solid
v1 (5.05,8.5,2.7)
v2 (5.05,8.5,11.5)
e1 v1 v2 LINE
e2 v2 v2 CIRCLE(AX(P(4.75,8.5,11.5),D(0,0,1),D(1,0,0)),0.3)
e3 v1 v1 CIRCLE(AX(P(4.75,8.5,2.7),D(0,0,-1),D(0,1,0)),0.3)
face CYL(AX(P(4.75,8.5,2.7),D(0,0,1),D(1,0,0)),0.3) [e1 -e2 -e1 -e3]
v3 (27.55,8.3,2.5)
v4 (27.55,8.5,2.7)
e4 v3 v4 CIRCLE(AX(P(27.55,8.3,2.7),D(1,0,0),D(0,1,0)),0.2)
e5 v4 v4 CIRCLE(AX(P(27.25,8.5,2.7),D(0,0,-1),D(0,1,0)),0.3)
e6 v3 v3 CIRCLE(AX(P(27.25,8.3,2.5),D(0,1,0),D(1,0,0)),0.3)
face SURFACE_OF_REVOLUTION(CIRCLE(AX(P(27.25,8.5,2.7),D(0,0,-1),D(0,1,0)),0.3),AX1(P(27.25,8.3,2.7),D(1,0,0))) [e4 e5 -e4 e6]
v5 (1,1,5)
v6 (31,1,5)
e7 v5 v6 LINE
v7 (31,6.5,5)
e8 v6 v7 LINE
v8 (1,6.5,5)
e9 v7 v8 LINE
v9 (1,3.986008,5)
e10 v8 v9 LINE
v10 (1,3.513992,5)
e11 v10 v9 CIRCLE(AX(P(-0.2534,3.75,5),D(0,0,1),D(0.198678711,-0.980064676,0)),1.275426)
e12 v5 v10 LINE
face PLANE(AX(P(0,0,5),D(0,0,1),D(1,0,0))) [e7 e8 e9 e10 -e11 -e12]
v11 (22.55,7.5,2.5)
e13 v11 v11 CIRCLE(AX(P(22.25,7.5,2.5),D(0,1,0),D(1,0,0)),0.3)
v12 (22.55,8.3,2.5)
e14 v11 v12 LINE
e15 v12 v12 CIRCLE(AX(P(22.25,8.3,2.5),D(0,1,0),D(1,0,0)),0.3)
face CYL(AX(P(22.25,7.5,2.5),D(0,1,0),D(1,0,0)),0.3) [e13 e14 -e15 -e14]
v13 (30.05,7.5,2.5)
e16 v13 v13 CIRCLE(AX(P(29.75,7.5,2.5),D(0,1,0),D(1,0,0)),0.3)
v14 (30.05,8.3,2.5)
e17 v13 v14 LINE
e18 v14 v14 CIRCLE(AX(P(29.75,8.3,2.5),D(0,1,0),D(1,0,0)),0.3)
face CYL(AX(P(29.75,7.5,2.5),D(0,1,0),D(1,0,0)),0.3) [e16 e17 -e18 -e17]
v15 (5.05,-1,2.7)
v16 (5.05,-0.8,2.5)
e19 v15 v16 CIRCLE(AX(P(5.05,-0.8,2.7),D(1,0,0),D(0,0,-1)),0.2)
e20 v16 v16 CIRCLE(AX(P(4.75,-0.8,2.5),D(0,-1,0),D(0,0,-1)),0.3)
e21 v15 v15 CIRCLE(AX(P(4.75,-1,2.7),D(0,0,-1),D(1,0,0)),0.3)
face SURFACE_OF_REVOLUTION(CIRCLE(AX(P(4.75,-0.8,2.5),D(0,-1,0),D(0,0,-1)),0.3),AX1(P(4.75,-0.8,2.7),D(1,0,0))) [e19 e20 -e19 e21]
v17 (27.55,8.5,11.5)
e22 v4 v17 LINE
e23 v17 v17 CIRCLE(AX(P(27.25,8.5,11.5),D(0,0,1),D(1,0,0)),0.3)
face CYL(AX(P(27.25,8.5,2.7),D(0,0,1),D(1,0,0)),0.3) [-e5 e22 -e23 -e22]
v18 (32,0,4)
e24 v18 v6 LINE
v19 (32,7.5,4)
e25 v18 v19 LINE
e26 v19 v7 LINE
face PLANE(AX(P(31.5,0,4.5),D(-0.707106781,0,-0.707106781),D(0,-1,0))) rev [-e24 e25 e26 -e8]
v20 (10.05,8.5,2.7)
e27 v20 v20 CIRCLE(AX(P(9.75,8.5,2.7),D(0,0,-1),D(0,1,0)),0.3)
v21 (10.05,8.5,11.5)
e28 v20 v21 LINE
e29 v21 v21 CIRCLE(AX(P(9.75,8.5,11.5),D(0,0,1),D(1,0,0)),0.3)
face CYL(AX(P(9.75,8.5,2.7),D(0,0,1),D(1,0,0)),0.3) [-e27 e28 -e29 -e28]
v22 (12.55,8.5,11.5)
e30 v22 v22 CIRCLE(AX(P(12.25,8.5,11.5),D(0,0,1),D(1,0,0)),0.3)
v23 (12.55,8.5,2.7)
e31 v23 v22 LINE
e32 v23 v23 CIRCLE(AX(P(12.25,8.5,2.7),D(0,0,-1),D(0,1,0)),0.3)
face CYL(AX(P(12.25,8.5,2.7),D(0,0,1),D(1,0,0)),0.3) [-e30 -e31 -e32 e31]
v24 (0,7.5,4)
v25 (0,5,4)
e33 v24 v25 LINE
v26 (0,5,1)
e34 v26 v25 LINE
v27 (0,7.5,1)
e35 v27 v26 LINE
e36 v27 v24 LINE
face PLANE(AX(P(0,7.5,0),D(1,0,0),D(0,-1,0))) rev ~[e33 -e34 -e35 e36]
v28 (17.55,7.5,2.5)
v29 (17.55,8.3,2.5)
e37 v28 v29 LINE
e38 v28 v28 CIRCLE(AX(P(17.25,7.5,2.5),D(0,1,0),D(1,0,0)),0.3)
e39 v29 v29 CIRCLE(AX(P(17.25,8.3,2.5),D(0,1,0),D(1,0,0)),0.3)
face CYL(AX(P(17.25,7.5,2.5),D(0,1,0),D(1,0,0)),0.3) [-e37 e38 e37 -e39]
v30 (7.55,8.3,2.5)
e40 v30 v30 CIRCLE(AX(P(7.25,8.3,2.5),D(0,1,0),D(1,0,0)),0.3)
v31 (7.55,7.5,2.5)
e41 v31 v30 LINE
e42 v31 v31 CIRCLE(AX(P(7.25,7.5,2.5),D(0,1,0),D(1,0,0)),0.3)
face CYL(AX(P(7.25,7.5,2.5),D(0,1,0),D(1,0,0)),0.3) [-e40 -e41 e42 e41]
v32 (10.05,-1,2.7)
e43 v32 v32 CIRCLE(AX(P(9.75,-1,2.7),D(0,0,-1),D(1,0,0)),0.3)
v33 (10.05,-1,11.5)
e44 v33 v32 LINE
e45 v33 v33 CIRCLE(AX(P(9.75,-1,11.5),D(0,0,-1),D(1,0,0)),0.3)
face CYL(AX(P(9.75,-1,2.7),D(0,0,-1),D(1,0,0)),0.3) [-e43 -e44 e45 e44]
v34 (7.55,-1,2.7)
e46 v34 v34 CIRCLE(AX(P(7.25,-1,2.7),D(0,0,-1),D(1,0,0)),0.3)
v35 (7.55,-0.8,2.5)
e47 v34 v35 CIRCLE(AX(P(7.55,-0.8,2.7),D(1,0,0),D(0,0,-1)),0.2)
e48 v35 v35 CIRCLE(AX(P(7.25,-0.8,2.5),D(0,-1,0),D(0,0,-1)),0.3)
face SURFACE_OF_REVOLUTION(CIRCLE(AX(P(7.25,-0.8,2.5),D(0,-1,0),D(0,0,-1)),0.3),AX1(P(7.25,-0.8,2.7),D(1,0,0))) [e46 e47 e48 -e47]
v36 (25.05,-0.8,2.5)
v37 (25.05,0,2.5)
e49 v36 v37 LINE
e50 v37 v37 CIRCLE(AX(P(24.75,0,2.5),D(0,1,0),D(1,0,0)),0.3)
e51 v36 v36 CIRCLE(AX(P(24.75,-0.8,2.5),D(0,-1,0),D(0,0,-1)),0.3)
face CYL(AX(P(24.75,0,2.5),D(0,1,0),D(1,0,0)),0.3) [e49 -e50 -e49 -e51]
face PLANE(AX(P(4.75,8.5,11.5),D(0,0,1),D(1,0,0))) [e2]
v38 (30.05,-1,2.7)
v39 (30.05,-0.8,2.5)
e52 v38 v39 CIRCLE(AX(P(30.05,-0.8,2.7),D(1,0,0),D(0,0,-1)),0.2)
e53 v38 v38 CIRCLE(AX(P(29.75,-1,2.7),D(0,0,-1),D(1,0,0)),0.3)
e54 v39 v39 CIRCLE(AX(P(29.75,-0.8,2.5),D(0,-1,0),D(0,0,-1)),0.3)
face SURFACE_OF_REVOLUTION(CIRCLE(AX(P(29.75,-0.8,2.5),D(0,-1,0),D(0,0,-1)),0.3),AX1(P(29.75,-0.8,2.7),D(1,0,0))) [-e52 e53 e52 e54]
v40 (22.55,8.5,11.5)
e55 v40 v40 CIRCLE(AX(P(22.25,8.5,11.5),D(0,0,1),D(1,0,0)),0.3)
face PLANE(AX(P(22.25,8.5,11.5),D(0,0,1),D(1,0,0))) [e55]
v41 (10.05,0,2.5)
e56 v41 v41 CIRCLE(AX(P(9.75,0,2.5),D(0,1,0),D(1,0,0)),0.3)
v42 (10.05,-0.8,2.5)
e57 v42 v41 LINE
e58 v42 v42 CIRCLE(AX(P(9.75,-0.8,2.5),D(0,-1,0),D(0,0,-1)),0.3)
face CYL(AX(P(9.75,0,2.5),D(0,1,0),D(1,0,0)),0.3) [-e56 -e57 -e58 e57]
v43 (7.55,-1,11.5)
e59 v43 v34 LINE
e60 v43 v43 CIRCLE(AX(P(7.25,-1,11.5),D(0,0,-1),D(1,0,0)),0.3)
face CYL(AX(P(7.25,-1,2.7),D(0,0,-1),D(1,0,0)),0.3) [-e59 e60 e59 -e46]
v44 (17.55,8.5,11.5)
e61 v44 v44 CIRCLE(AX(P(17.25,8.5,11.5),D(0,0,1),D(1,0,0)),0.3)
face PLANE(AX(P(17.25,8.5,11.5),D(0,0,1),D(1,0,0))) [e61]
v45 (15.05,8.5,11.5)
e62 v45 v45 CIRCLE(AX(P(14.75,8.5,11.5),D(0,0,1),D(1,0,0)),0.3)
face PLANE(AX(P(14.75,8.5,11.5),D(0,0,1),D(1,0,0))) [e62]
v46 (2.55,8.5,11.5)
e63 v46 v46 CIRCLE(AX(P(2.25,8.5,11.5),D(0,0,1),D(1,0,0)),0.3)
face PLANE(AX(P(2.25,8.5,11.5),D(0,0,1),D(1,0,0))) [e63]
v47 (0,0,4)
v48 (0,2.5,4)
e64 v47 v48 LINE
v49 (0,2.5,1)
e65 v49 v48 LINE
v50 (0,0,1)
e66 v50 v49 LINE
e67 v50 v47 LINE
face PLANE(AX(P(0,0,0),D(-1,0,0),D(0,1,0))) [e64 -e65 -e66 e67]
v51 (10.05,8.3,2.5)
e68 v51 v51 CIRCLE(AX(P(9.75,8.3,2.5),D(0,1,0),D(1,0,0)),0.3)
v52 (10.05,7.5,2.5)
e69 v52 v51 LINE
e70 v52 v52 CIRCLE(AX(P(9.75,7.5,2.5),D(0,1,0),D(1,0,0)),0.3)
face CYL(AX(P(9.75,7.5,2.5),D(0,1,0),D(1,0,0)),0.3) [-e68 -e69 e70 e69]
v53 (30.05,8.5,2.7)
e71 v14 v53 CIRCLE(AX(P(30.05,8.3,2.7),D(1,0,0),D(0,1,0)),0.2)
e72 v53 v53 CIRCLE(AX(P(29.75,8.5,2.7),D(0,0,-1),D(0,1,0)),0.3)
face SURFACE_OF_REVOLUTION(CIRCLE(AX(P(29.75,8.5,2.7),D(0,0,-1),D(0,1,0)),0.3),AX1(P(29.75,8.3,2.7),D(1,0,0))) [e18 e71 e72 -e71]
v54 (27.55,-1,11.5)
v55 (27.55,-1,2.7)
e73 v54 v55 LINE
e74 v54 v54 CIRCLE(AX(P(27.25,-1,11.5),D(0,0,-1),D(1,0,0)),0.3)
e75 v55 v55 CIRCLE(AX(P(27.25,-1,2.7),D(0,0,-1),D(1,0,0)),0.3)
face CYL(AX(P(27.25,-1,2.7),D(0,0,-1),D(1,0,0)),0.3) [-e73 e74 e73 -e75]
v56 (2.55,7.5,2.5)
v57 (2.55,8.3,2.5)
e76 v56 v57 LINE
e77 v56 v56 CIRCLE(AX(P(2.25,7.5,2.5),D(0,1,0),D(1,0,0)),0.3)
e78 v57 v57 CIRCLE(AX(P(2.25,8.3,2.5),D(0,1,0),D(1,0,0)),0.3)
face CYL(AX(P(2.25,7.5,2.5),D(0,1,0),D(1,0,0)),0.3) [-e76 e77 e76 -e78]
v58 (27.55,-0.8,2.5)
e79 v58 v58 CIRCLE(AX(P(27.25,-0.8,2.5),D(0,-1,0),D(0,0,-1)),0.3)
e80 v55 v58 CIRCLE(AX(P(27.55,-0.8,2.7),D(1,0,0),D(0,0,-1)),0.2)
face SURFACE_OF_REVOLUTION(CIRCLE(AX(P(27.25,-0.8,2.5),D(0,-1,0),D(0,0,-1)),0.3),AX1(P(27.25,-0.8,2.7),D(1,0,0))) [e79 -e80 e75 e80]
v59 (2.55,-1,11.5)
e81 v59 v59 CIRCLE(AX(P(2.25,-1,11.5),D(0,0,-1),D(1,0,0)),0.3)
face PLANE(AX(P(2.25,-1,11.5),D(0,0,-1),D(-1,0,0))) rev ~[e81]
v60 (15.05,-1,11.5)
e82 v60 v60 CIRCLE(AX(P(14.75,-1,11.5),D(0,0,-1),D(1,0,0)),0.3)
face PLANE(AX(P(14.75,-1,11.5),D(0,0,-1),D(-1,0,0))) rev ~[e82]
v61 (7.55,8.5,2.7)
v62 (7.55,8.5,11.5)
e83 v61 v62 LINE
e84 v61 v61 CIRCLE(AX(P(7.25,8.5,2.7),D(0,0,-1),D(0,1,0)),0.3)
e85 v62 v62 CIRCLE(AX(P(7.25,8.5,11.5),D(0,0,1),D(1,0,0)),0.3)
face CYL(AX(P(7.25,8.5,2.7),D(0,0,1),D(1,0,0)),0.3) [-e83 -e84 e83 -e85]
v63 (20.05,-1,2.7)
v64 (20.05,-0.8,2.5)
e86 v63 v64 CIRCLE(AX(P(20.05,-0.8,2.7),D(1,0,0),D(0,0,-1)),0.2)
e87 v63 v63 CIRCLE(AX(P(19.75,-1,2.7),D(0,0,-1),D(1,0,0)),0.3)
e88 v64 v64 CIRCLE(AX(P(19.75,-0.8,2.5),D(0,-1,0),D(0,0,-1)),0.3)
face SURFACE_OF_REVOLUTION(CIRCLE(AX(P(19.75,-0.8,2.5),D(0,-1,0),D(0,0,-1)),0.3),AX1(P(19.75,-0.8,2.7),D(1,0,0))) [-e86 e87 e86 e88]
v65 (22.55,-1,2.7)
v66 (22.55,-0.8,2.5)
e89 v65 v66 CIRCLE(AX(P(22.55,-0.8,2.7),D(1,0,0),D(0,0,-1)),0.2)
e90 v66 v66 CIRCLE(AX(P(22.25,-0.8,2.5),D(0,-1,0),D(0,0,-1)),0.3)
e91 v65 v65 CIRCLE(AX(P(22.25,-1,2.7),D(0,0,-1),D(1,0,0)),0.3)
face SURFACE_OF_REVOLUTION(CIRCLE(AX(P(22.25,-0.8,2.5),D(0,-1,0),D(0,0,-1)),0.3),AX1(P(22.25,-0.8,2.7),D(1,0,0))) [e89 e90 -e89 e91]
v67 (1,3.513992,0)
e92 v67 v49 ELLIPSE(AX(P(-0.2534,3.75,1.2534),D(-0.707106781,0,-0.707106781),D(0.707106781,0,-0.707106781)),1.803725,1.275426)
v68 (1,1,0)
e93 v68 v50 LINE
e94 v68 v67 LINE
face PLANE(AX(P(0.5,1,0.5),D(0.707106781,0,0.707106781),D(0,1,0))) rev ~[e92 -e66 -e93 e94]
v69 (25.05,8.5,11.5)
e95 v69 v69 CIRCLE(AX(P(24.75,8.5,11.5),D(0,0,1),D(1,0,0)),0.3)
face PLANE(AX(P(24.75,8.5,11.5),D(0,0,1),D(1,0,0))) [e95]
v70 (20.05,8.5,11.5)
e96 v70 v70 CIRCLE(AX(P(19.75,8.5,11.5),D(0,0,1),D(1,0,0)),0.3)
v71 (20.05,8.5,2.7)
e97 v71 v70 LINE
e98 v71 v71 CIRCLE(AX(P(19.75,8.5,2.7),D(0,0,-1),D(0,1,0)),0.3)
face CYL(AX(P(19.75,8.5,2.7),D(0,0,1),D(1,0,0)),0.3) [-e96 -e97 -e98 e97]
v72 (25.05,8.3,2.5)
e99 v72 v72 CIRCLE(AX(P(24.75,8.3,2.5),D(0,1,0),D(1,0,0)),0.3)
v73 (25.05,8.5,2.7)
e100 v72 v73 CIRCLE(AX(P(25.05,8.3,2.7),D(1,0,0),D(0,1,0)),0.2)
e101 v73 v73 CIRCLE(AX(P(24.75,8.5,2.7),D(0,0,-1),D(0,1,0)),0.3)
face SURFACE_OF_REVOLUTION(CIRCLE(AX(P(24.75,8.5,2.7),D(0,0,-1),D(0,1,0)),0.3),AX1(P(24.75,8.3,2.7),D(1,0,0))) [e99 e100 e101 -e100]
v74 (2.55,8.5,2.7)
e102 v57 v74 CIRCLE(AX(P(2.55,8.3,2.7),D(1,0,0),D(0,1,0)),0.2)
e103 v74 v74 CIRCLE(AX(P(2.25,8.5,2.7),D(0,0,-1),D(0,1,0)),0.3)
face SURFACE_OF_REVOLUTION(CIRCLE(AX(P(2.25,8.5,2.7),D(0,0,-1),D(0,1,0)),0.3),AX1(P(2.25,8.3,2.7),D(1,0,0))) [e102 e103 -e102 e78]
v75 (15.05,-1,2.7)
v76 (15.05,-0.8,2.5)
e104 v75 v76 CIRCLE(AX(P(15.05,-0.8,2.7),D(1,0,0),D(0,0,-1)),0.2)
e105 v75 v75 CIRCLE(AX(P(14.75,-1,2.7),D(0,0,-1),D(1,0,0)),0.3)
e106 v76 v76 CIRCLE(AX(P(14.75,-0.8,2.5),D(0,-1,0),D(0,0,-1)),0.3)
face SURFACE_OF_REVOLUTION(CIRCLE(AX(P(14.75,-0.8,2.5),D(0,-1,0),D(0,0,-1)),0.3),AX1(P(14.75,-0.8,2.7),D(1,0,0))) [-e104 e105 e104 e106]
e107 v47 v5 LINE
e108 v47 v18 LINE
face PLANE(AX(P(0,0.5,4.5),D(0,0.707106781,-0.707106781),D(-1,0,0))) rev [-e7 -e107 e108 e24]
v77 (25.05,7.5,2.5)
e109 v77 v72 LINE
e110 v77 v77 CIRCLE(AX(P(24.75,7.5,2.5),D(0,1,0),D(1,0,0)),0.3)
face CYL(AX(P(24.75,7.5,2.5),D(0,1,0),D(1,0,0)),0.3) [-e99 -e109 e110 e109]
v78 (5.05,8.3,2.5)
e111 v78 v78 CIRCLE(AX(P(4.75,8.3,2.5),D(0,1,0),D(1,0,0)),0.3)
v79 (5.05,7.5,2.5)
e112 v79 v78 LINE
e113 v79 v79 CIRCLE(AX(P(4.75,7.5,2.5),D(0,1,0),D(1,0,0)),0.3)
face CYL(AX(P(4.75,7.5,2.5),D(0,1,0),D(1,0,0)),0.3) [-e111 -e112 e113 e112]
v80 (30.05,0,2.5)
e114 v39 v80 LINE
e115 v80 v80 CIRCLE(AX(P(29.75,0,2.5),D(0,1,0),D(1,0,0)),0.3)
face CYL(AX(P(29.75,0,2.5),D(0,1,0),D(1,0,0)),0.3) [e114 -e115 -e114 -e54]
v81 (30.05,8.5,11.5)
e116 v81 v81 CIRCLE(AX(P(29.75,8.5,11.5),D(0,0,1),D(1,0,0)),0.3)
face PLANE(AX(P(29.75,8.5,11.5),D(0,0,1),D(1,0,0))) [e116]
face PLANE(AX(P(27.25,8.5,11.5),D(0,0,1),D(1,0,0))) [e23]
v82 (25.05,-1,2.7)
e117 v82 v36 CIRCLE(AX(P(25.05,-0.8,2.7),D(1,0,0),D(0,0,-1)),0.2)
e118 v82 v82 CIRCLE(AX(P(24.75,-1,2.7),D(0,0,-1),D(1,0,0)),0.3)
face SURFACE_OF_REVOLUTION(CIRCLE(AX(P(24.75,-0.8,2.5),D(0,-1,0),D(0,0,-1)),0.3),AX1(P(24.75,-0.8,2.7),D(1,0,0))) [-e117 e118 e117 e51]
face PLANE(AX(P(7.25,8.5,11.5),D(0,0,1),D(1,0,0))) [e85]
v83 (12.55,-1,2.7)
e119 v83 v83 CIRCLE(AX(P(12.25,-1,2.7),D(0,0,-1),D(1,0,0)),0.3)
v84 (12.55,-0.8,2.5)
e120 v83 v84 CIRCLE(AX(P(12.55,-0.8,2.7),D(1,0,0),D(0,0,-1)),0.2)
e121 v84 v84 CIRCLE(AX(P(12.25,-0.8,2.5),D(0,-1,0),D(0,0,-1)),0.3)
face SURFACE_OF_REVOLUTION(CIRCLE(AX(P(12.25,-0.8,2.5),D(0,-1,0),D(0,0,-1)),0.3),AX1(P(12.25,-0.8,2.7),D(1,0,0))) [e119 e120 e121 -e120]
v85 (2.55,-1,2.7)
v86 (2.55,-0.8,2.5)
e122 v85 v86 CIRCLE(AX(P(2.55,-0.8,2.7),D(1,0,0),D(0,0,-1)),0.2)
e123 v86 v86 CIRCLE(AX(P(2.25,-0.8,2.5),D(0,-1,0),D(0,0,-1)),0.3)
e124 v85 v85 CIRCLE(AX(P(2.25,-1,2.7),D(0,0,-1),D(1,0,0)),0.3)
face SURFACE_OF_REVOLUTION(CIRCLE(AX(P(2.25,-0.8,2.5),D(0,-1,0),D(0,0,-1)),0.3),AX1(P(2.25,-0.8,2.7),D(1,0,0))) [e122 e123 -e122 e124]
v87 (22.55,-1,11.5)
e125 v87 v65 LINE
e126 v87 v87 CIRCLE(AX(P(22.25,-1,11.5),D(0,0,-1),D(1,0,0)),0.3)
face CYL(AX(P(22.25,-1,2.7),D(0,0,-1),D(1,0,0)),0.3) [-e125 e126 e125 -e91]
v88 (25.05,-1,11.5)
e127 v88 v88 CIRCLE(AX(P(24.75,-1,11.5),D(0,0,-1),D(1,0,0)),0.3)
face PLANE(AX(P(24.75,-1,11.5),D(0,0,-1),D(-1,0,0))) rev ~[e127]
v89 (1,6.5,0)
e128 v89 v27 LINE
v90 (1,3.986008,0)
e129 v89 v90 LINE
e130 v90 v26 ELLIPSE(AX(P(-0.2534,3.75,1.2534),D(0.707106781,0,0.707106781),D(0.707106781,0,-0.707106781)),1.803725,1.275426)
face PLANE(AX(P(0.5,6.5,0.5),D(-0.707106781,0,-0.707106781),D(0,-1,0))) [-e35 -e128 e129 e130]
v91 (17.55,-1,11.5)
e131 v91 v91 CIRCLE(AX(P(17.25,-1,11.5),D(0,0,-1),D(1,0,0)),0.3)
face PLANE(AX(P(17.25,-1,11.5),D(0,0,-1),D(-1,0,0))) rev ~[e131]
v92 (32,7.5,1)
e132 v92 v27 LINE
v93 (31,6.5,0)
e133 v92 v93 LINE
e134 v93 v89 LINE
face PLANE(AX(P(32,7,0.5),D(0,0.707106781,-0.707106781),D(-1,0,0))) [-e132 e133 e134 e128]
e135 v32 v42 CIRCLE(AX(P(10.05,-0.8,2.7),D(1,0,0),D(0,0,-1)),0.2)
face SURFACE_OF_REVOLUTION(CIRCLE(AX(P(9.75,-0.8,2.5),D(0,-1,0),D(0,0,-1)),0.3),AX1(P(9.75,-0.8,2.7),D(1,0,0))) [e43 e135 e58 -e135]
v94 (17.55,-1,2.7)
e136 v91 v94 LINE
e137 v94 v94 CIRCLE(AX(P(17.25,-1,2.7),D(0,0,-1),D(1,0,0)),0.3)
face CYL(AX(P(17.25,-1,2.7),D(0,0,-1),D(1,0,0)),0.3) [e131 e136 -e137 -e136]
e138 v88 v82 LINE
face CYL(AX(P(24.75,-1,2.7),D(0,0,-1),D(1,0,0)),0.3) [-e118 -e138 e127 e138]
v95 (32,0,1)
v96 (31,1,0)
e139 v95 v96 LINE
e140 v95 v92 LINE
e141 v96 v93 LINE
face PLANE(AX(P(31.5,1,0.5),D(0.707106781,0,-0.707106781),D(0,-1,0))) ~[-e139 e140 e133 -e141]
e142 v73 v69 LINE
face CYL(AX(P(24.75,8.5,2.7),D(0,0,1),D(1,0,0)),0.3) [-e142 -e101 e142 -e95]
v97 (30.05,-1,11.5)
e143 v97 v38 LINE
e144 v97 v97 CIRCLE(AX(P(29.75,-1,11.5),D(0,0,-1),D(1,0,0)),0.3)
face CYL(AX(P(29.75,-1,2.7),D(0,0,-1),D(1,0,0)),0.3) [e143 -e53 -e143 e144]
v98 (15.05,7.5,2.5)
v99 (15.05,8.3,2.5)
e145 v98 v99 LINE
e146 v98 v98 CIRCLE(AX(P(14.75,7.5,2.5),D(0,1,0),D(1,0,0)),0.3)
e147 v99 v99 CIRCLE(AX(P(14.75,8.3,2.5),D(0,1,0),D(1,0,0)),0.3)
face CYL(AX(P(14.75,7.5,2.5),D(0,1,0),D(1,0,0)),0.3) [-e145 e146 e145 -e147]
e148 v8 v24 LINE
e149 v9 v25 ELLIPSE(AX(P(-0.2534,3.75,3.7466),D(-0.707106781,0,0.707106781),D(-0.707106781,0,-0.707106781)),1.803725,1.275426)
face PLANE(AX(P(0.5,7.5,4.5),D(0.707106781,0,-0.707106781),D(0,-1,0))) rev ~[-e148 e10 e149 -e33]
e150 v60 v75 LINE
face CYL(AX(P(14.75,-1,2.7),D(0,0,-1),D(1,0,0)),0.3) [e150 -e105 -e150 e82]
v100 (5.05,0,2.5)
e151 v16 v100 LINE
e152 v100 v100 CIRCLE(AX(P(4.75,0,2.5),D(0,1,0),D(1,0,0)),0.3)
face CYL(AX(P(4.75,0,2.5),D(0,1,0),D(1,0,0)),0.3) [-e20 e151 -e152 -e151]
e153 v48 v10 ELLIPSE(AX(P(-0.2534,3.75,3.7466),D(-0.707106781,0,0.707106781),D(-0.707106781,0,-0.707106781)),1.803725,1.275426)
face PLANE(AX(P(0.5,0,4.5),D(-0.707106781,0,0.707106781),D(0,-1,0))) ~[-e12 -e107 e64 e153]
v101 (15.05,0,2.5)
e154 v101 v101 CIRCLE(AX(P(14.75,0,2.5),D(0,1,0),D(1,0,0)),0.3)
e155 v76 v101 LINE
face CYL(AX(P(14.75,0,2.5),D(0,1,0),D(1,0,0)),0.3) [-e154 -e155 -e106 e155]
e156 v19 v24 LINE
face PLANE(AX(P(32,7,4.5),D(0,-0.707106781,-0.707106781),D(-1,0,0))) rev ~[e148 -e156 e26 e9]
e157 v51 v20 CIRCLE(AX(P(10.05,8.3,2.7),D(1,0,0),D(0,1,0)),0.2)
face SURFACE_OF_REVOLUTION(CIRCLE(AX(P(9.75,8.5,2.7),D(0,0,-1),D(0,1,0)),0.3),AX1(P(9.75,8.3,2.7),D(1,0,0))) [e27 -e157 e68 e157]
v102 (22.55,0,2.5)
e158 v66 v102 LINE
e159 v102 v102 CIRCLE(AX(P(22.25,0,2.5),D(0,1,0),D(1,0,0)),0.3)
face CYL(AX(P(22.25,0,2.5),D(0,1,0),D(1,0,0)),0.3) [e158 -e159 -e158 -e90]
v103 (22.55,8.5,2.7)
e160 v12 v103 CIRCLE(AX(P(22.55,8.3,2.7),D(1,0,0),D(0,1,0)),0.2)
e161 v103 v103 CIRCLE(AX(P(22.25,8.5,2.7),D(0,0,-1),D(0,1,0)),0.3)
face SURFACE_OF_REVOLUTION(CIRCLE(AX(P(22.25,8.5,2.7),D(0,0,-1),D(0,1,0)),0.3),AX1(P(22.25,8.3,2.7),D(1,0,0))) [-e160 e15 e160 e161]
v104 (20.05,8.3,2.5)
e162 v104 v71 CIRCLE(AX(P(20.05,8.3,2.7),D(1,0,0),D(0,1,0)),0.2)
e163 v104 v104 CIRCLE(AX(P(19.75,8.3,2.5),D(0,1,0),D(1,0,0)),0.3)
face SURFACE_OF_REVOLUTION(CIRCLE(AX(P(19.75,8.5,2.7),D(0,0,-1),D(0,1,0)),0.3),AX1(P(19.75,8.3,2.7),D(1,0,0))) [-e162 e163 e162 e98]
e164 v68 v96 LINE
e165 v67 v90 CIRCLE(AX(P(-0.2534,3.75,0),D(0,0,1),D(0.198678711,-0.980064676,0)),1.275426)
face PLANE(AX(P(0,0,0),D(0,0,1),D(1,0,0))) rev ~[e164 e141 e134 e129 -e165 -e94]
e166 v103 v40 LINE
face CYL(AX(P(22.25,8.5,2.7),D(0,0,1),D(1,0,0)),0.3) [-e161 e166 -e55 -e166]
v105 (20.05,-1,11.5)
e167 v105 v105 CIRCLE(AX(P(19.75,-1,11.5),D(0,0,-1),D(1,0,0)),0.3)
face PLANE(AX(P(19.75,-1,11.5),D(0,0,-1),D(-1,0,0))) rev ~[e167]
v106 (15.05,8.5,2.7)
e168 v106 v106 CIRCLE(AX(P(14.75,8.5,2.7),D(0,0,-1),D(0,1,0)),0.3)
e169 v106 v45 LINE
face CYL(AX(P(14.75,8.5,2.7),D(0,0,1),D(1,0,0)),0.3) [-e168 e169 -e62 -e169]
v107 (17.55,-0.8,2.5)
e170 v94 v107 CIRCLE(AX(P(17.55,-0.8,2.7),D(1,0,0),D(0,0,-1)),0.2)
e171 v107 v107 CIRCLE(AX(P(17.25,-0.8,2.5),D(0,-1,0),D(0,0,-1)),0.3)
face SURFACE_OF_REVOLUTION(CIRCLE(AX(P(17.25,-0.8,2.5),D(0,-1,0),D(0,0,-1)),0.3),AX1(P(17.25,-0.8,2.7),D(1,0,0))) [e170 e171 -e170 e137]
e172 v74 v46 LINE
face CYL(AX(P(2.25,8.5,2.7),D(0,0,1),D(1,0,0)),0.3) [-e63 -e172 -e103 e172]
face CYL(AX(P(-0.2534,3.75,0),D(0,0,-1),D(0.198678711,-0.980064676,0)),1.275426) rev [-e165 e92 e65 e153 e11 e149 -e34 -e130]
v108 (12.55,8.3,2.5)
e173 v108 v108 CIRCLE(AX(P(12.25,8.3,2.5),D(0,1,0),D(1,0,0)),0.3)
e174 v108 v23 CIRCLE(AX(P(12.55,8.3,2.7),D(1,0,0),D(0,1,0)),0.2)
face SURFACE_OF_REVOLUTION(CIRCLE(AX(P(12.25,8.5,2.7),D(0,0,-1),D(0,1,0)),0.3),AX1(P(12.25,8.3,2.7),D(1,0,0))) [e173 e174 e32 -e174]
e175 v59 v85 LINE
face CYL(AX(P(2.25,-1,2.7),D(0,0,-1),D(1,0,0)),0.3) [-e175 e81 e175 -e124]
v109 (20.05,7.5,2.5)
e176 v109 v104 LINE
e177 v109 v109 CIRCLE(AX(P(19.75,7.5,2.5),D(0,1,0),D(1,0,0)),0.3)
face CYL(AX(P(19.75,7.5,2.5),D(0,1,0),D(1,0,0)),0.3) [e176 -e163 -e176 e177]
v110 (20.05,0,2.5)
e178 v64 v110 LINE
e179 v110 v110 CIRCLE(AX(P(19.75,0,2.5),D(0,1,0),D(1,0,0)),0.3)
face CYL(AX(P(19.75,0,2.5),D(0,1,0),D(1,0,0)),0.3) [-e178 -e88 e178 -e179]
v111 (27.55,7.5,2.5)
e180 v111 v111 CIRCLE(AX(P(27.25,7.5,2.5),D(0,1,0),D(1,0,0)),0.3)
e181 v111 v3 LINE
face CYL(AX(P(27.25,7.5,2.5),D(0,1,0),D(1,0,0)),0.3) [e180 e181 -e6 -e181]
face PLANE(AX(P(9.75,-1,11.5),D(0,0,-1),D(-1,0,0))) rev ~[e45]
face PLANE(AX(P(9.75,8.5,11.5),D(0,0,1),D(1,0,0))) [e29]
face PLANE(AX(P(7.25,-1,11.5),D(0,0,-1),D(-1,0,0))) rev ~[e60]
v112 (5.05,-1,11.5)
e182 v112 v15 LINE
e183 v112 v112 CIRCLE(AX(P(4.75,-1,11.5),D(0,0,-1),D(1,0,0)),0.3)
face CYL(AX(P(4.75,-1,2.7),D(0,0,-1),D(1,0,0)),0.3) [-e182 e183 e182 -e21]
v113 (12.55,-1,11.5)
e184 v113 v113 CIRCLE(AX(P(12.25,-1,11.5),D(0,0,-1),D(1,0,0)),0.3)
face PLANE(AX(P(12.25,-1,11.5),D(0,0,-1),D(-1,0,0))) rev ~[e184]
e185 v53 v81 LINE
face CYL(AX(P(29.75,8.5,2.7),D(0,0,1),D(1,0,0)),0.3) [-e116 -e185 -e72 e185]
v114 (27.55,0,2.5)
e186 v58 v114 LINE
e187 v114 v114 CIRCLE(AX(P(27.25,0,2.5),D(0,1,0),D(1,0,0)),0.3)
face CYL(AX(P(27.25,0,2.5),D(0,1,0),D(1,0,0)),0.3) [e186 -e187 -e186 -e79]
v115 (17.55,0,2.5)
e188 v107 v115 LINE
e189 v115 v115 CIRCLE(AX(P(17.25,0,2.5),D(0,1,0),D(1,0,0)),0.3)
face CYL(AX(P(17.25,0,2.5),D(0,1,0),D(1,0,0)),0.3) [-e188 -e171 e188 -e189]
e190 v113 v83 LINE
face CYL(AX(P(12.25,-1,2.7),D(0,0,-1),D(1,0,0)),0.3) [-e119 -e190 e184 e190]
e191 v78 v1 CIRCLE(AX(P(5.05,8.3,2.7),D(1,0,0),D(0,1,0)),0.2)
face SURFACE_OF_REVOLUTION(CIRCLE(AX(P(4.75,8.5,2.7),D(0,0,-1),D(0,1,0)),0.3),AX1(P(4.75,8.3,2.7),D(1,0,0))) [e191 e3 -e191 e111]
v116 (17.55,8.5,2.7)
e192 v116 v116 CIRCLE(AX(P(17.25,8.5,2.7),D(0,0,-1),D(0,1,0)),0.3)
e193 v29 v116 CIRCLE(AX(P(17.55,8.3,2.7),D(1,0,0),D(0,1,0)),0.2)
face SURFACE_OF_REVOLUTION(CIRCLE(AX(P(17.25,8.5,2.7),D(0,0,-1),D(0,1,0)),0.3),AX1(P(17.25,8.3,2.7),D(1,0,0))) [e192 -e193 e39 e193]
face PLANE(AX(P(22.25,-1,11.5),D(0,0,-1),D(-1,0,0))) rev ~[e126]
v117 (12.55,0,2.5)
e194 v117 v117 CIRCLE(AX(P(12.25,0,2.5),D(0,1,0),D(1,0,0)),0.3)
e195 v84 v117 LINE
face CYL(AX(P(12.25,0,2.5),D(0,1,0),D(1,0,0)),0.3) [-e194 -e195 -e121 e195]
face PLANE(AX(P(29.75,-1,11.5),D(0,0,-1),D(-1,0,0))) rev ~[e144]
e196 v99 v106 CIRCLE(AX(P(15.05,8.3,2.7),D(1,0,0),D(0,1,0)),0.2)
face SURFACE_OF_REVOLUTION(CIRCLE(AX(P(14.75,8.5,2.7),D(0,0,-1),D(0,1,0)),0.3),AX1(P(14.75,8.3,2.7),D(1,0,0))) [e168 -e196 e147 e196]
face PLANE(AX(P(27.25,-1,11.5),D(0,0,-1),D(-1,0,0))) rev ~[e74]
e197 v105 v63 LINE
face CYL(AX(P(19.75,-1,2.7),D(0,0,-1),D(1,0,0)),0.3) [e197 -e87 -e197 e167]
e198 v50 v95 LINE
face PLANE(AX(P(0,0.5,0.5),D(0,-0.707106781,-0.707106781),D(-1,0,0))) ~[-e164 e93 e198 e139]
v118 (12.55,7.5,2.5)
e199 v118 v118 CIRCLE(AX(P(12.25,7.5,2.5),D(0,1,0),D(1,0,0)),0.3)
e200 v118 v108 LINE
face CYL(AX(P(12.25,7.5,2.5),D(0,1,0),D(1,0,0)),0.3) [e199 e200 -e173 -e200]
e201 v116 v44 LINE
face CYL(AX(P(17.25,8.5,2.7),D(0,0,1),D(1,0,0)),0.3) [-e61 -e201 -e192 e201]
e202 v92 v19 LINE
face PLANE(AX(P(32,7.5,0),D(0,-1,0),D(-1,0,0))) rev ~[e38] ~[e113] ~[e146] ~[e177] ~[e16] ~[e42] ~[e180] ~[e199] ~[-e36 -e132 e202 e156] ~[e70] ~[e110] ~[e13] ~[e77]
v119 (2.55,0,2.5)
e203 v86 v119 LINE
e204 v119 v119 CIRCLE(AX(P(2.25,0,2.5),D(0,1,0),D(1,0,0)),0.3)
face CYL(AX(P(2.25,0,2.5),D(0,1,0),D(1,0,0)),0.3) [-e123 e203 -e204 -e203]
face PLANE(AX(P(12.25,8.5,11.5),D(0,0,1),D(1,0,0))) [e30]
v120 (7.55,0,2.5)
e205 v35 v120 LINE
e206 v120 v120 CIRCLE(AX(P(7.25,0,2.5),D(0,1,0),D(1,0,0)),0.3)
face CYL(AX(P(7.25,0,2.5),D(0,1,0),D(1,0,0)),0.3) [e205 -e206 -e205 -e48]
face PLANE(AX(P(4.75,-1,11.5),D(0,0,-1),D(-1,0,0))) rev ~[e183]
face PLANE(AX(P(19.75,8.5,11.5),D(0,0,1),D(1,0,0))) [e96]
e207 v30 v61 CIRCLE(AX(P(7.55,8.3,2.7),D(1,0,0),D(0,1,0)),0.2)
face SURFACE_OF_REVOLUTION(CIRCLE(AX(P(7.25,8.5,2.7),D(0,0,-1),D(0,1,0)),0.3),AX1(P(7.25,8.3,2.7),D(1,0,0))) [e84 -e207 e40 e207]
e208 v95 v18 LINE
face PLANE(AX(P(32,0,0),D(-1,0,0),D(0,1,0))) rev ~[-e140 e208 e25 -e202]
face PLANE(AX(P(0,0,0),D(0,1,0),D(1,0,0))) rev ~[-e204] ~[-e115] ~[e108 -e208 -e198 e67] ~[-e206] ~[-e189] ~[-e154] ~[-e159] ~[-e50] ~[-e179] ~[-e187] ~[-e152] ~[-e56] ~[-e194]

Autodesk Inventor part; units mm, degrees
sketch "Sketch1" plane through (0, 0, 0) normal (0, 0, 1) x (1, 0, 0)
  line L0 (0, 0) -> (32, 0)
  line L1 (32, 0) -> (32, 7.5)
  line L2 (32, 7.5) -> (0, 7.5)
  line L3 (0, 7.5) -> (0, 5)
  line L4 (0, 0) -> (0, 2.5)
  arc A0 (0, 2.5) -> (0, 5) centre (-0.2534, 3.75) ccw
  dimension "d0" = 32
  dimension "d1" = 7.5
  dimension "d2" = 2.5
  dimension "d3" = 2.5
extrude "Extrusion1" add sketch "Sketch1" along normal blind 5
sketch "Sketch2" plane through (0, 7.5, 0) normal (0, 1, 0) x (1, 0, 0)
  line L0 (0, 0) -> (0, -5) projected
  circle A0 centre (29.75, -2.5) radius 0.3
  circle A1 centre (27.25, -2.5) radius 0.3
  circle A2 centre (24.75, -2.5) radius 0.3
  circle A3 centre (22.25, -2.5) radius 0.3
  circle A4 centre (19.75, -2.5) radius 0.3
  circle A5 centre (17.25, -2.5) radius 0.3
  circle A6 centre (14.75, -2.5) radius 0.3
  circle A7 centre (12.25, -2.5) radius 0.3
  circle A8 centre (9.75, -2.5) radius 0.3
  circle A9 centre (7.25, -2.5) radius 0.3
  circle A10 centre (4.75, -2.5) radius 0.3
  circle A11 centre (2.25, -2.5) radius 0.3
  line L1 (32, 0) -> (32, -5) projected
  line L2 (32, -2.5) -> (31.5682, -2.5)
  line L3 (0, -5) -> (32, -5) projected
  line L4 (32, -5) -> (29.75, -5)
  line L5 (29.75, -5) -> (27.25, -5)
  line L6 (27.25, -5) -> (24.75, -5)
  line L7 (24.75, -5) -> (22.25, -5)
  line L8 (22.25, -5) -> (19.75, -5)
  line L9 (19.75, -5) -> (17.25, -5)
  line L10 (17.25, -5) -> (14.75, -5)
  line L11 (14.75, -5) -> (12.25, -5)
  line L12 (12.25, -5) -> (9.75, -5)
  line L13 (9.75, -5) -> (7.25, -5)
  line L14 (7.25, -5) -> (4.75, -5)
  line L15 (4.75, -5) -> (2.25, -5)
  dimension "d8" = 0.6
  dimension "d10" = 0.6
  dimension "d21" = 0.6
  dimension "d22" = 0.6
  dimension "d23" = 0.6
  dimension "d24" = 0.6
  dimension "d25" = 0.6
  dimension "d26" = 0.6
  dimension "d27" = 0.6
  dimension "d28" = 0.6
  dimension "d29" = 0.6
  dimension "d30" = 0.6
ref_plane "Work Plane1" through (29.75, 7.5, 5) normal (-1, 0, 0) x (0, -1, 0)
ref_plane "Work Plane2" through (27.25, 7.5, 5) normal (-1, 0, 0) x (0, -1, 0)
ref_plane "Work Plane3" through (24.75, 7.5, 5) normal (-1, 0, 0) x (0, -1, 0)
ref_plane "Work Plane4" through (22.25, 7.5, 5) normal (-1, 0, 0) x (0, -1, 0)
ref_plane "Work Plane5" through (19.75, 7.5, 5) normal (-1, 0, 0) x (0, -1, 0)
ref_plane "Work Plane6" through (17.25, 7.5, 5) normal (-1, 0, 0) x (0, -1, 0)
ref_plane "Work Plane7" through (14.75, 7.5, 5) normal (-1, 0, 0) x (0, -1, 0)
ref_plane "Work Plane8" through (12.25, 7.5, 5) normal (-1, 0, 0) x (0, -1, 0)
ref_plane "Work Plane9" through (9.75, 7.5, 5) normal (-1, 0, 0) x (0, -1, 0)
ref_plane "Work Plane10" through (7.25, 7.5, 5) normal (-1, 0, 0) x (0, -1, 0)
ref_plane "Work Plane11" through (4.75, 7.5, 5) normal (-1, 0, 0) x (0, -1, 0)
ref_plane "Work Plane12" through (2.25, 7.5, 5) normal (-1, 0, 0) x (0, -1, 0)
sketch "Sketch3" plane through (29.75, 7.5, 5) normal (-1, 0, 0) x (0, -1, 0)
  line L0 (0, -2.5) -> (-0.8, -2.5)
  line L1 (-1, -2.3) -> (-1, 6.5)
  arc A0 (-1, -2.3) -> (-0.8, -2.5) centre (-0.8, -2.3) ccw
  line L2 (0, -2.5) -> (7.5, -2.5)
  line L3 (7.5, -5) -> (7.5, 0) projected
  line L4 (7.5, -2.5) -> (8.3, -2.5)
  line L5 (8.5, -2.3) -> (8.5, 6.5)
  arc A1 (8.3, -2.5) -> (8.5, -2.3) centre (8.3, -2.3) ccw
  point P0 (0, -5)
  point P1 (-1, -2.5)
  point P2 (8.5, -2.5)
  dimension "d31" = 2.5
  dimension "d32" = 1
  dimension "d33" = 9
  dimension "d34" = 0.2
  dimension "d37" = 1
  dimension "d38" = 9
  dimension "d39" = 0.2
sweep "Sweep1" add profiles "Sketch2" path "Sketch3" path curves L1 A0 L0 L2 L4 A1 L5 contours A0
sketch "Sketch4" plane through (27.25, 7.5, 5) normal (-1, 0, 0) x (0, -1, 0)
  line L0 (0, -2.5) -> (-0.8, -2.5)
  line L1 (-1, -2.3) -> (-1, 6.5)
  arc A0 (-1, -2.3) -> (-0.8, -2.5) centre (-0.8, -2.3) ccw
  line L2 (0, -2.5) -> (7.5, -2.5)
  line L3 (7.5, -2.5) -> (8.3, -2.5)
  line L4 (8.5, -2.3) -> (8.5, 6.5)
  arc A1 (8.3, -2.5) -> (8.5, -2.3) centre (8.3, -2.3) ccw
  point P0 (0, -5)
  point P1 (-1, -2.5)
  point P2 (8.5, -2.5)
  dimension "d40" = 2.5
  dimension "d41" = 1
  dimension "d42" = 9
  dimension "d43" = 0.2
  dimension "d44" = 1
  dimension "d45" = 9
  dimension "d46" = 0.2
sketch "Sketch5" plane through (24.75, 7.5, 5) normal (-1, 0, 0) x (0, -1, 0)
  line L0 (0, -2.5) -> (-0.8, -2.5)
  line L1 (-1, -2.3) -> (-1, 6.5)
  arc A0 (-1, -2.3) -> (-0.8, -2.5) centre (-0.8, -2.3) ccw
  line L2 (0, -2.5) -> (7.5, -2.5)
  line L3 (7.5, -2.5) -> (8.3, -2.5)
  line L4 (8.5, -2.3) -> (8.5, 6.5)
  arc A1 (8.3, -2.5) -> (8.5, -2.3) centre (8.3, -2.3) ccw
  point P0 (0, -5)
  point P1 (-1, -2.5)
  point P2 (8.5, -2.5)
  dimension "d47" = 2.5
  dimension "d48" = 1
  dimension "d49" = 9
  dimension "d50" = 0.2
  dimension "d51" = 1
  dimension "d52" = 9
  dimension "d53" = 0.2
sketch "Sketch6" plane through (22.25, 7.5, 5) normal (-1, 0, 0) x (0, -1, 0)
  line L0 (0, -2.5) -> (-0.8, -2.5)
  line L1 (-1, -2.3) -> (-1, 6.5)
  arc A0 (-1, -2.3) -> (-0.8, -2.5) centre (-0.8, -2.3) ccw
  line L2 (0, -2.5) -> (7.5, -2.5)
  line L3 (7.5, -2.5) -> (8.3, -2.5)
  line L4 (8.5, -2.3) -> (8.5, 6.5)
  arc A1 (8.3, -2.5) -> (8.5, -2.3) centre (8.3, -2.3) ccw
  point P0 (0, -5)
  point P1 (-1, -2.5)
  point P2 (8.5, -2.5)
  dimension "d54" = 2.5
  dimension "d55" = 1
  dimension "d56" = 9
  dimension "d57" = 0.2
  dimension "d58" = 1
  dimension "d59" = 9
  dimension "d60" = 0.2
sketch "Sketch7" plane through (19.75, 7.5, 5) normal (-1, 0, 0) x (0, -1, 0)
  line L0 (0, -2.5) -> (-0.8, -2.5)
  line L1 (-1, -2.3) -> (-1, 6.5)
  arc A0 (-1, -2.3) -> (-0.8, -2.5) centre (-0.8, -2.3) ccw
  line L2 (0, -2.5) -> (7.5, -2.5)
  line L3 (7.5, -2.5) -> (8.3, -2.5)
  line L4 (8.5, -2.3) -> (8.5, 6.5)
  arc A1 (8.3, -2.5) -> (8.5, -2.3) centre (8.3, -2.3) ccw
  point P0 (0, -5)
  point P1 (-1, -2.5)
  point P2 (8.5, -2.5)
  dimension "d61" = 2.5
  dimension "d62" = 1
  dimension "d63" = 9
  dimension "d64" = 0.2
  dimension "d65" = 1
  dimension "d66" = 9
  dimension "d67" = 0.2
sketch "Sketch8" plane through (17.25, 7.5, 5) normal (-1, 0, 0) x (0, -1, 0)
  line L0 (0, -2.5) -> (-0.8, -2.5)
  line L1 (-1, -2.3) -> (-1, 6.5)
  arc A0 (-1, -2.3) -> (-0.8, -2.5) centre (-0.8, -2.3) ccw
  line L2 (0, -2.5) -> (7.5, -2.5)
  line L3 (7.5, -2.5) -> (8.3, -2.5)
  line L4 (8.5, -2.3) -> (8.5, 6.5)
  arc A1 (8.3, -2.5) -> (8.5, -2.3) centre (8.3, -2.3) ccw
  point P0 (0, -5)
  point P1 (-1, -2.5)
  point P2 (8.5, -2.5)
  dimension "d68" = 2.5
  dimension "d69" = 1
  dimension "d70" = 9
  dimension "d71" = 0.2
  dimension "d72" = 1
  dimension "d73" = 9
  dimension "d74" = 0.2
sketch "Sketch9" plane through (14.75, 7.5, 5) normal (-1, 0, 0) x (0, -1, 0)
  line L0 (0, -2.5) -> (-0.8, -2.5)
  line L1 (-1, -2.3) -> (-1, 6.5)
  arc A0 (-1, -2.3) -> (-0.8, -2.5) centre (-0.8, -2.3) ccw
  line L2 (0, -2.5) -> (7.5, -2.5)
  line L3 (7.5, -2.5) -> (8.3, -2.5)
  line L4 (8.5, -2.3) -> (8.5, 6.5)
  arc A1 (8.3, -2.5) -> (8.5, -2.3) centre (8.3, -2.3) ccw
  point P0 (0, -5)
  point P1 (-1, -2.5)
  point P2 (8.5, -2.5)
  dimension "d75" = 2.5
  dimension "d76" = 1
  dimension "d77" = 9
  dimension "d78" = 0.2
  dimension "d79" = 1
  dimension "d80" = 9
  dimension "d81" = 0.2
sketch "Sketch10" plane through (12.25, 7.5, 5) normal (-1, 0, 0) x (0, -1, 0)
  line L0 (0, -2.5) -> (-0.8, -2.5)
  line L1 (-1, -2.3) -> (-1, 6.5)
  arc A0 (-1, -2.3) -> (-0.8, -2.5) centre (-0.8, -2.3) ccw
  line L2 (0, -2.5) -> (7.5, -2.5)
  line L3 (7.5, -2.5) -> (8.3, -2.5)
  line L4 (8.5, -2.3) -> (8.5, 6.5)
  arc A1 (8.3, -2.5) -> (8.5, -2.3) centre (8.3, -2.3) ccw
  point P0 (0, -5)
  point P1 (-1, -2.5)
  point P2 (8.5, -2.5)
  dimension "d82" = 2.5
  dimension "d83" = 1
  dimension "d84" = 9
  dimension "d85" = 0.2
  dimension "d86" = 1
  dimension "d87" = 9
  dimension "d88" = 0.2
sketch "Sketch11" plane through (9.75, 7.5, 5) normal (-1, 0, 0) x (0, -1, 0)
  line L0 (0, -2.5) -> (-0.8, -2.5)
  line L1 (-1, -2.3) -> (-1, 6.5)
  arc A0 (-1, -2.3) -> (-0.8, -2.5) centre (-0.8, -2.3) ccw
  line L2 (0, -2.5) -> (7.5, -2.5)
  line L3 (7.5, -2.5) -> (8.3, -2.5)
  line L4 (8.5, -2.3) -> (8.5, 6.5)
  arc A1 (8.3, -2.5) -> (8.5, -2.3) centre (8.3, -2.3) ccw
  point P0 (0, -5)
  point P1 (-1, -2.5)
  point P2 (8.5, -2.5)
  dimension "d89" = 2.5
  dimension "d90" = 1
  dimension "d91" = 9
  dimension "d92" = 0.2
  dimension "d93" = 1
  dimension "d94" = 9
  dimension "d95" = 0.2
sketch "Sketch12" plane through (7.25, 7.5, 5) normal (-1, 0, 0) x (0, -1, 0)
  line L0 (0, -2.5) -> (-0.8, -2.5)
  line L1 (-1, -2.3) -> (-1, 6.5)
  arc A0 (-1, -2.3) -> (-0.8, -2.5) centre (-0.8, -2.3) ccw
  line L2 (0, -2.5) -> (7.5, -2.5)
  line L3 (7.5, -2.5) -> (8.3, -2.5)
  line L4 (8.5, -2.3) -> (8.5, 6.5)
  arc A1 (8.3, -2.5) -> (8.5, -2.3) centre (8.3, -2.3) ccw
  point P0 (0, -5)
  point P1 (-1, -2.5)
  point P2 (8.5, -2.5)
  dimension "d96" = 2.5
  dimension "d97" = 1
  dimension "d98" = 9
  dimension "d99" = 0.2
  dimension "d100" = 1
  dimension "d101" = 9
  dimension "d102" = 0.2
sketch "Sketch13" plane through (4.75, 7.5, 5) normal (-1, 0, 0) x (0, -1, 0)
  line L0 (0, -2.5) -> (-0.8, -2.5)
  line L1 (-1, -2.3) -> (-1, 6.5)
  arc A0 (-1, -2.3) -> (-0.8, -2.5) centre (-0.8, -2.3) ccw
  line L2 (0, -2.5) -> (7.5, -2.5)
  line L3 (7.5, -2.5) -> (8.3, -2.5)
  line L4 (8.5, -2.3) -> (8.5, 6.5)
  arc A1 (8.3, -2.5) -> (8.5, -2.3) centre (8.3, -2.3) ccw
  point P0 (0, -5)
  point P1 (-1, -2.5)
  point P2 (8.5, -2.5)
  dimension "d103" = 2.5
  dimension "d104" = 1
  dimension "d105" = 9
  dimension "d106" = 0.2
  dimension "d107" = 1
  dimension "d108" = 9
  dimension "d109" = 0.2
sketch "Sketch14" plane through (2.25, 7.5, 5) normal (-1, 0, 0) x (0, -1, 0)
  line L0 (0, -2.5) -> (-0.8, -2.5)
  line L1 (-1, -2.3) -> (-1, 6.5)
  arc A0 (-1, -2.3) -> (-0.8, -2.5) centre (-0.8, -2.3) ccw
  line L2 (0, -2.5) -> (7.5, -2.5)
  line L3 (7.5, -2.5) -> (8.3, -2.5)
  line L4 (8.5, -2.3) -> (8.5, 6.5)
  arc A1 (8.3, -2.5) -> (8.5, -2.3) centre (8.3, -2.3) ccw
  point P0 (0, -5)
  point P1 (-1, -2.5)
  point P2 (8.5, -2.5)
  dimension "d110" = 2.5
  dimension "d111" = 1
  dimension "d112" = 9
  dimension "d113" = 0.2
  dimension "d114" = 1
  dimension "d115" = 9
  dimension "d116" = 0.2
sketch "Sketch15" plane through (29.75, 7.5, 5) normal (-1, 0, 0) x (0, -1, 0)
  line L0 (0, -2.5) -> (-0.8, -2.5)
  line L1 (-1, -2.3) -> (-1, 6.5)
  arc A0 (-1, -2.3) -> (-0.8, -2.5) centre (-0.8, -2.3) ccw
  line L2 (0, -2.5) -> (7.5, -2.5)
  line L3 (7.5, -2.5) -> (8.3, -2.5)
  line L4 (8.5, -2.3) -> (8.5, 6.5)
  arc A1 (8.3, -2.5) -> (8.5, -2.3) centre (8.3, -2.3) ccw
  point P0 (0, -5)
  point P1 (-1, -2.5)
  point P2 (8.5, -2.5)
  dimension "d117" = 2.5
  dimension "d118" = 1
  dimension "d119" = 9
  dimension "d120" = 0.2
  dimension "d121" = 1
  dimension "d122" = 9
  dimension "d123" = 0.2
sweep "Sweep2" add profiles "Sketch2" path "Sketch4" contours A1
sweep "Sweep3" add profiles "Sketch2" path "Sketch5" contours A2
sweep "Sweep4" add profiles "Sketch2" path "Sketch6" contours A3
sweep "Sweep5" add profiles "Sketch2" path "Sketch7" contours A4
sweep "Sweep6" add profiles "Sketch2" path "Sketch8" contours A5
sweep "Sweep7" add profiles "Sketch2" path "Sketch9" contours A6
sweep "Sweep8" add profiles "Sketch2" path "Sketch10" contours A7
sweep "Sweep9" add profiles "Sketch2" path "Sketch11" contours A8
sweep "Sweep10" add profiles "Sketch2" path "Sketch12" contours A9
sweep "Sweep11" add profiles "Sketch2" path "Sketch13" contours A10
sweep "Sweep12" add profiles "Sketch2" path "Sketch14" contours A11
chamfer "Chamfer1" distance 1 angle 45 2 edges at (16, 0, 0) (16, 7.5, 0)
chamfer "Chamfer2" distance 1 angle 45 1 edges at (32, 3.75, 0)
chamfer "Chamfer3" distance 1 angle 45 2 edges at (0, 1.75, 0) (0, 5.75, 0)
chamfer "Chamfer4" distance 1 angle 45 5 edges at (32, 3.75, 5) (16, 7.5, 5) (16, 0, 5) (0, 6.25, 5) (0, 1.25, 5)
sketch "Sketch16" plane through (0, 0, 0) normal (0, 0, -1) x (-1, 0, 0)
  line L0 (-19.6607, 4.4201) -> (-12.5424, 4.4201) construction
  line L1 (-12.5424, 4.4201) -> (-12.5424, 2.8581) construction
  line L2 (-12.5424, 2.8581) -> (-19.6607, 2.8581) construction
  line L3 (-19.6607, 2.8581) -> (-19.6607, 4.4201) construction
  point P0 (0, 0)
equation "\"BendRadius\" = Thickness"
equation "\"BendReliefWidth\" = Thickness"
equation "\"BendReliefDepth\" = 0.5 * Thickness"
equation "\"CornerReliefSize\" = 4 * Thickness"
equation "\"MinimumRemnant\" = 2 * Thickness"
equation "\"TransitionRadius\" = BendRadius"
equation "\"JacobiRadiusSize\" = BendRadius"
equation "\"GapSize\" = Thickness"
equation "\"Thickness\" = 3.048"
properties part number "LM1040"
